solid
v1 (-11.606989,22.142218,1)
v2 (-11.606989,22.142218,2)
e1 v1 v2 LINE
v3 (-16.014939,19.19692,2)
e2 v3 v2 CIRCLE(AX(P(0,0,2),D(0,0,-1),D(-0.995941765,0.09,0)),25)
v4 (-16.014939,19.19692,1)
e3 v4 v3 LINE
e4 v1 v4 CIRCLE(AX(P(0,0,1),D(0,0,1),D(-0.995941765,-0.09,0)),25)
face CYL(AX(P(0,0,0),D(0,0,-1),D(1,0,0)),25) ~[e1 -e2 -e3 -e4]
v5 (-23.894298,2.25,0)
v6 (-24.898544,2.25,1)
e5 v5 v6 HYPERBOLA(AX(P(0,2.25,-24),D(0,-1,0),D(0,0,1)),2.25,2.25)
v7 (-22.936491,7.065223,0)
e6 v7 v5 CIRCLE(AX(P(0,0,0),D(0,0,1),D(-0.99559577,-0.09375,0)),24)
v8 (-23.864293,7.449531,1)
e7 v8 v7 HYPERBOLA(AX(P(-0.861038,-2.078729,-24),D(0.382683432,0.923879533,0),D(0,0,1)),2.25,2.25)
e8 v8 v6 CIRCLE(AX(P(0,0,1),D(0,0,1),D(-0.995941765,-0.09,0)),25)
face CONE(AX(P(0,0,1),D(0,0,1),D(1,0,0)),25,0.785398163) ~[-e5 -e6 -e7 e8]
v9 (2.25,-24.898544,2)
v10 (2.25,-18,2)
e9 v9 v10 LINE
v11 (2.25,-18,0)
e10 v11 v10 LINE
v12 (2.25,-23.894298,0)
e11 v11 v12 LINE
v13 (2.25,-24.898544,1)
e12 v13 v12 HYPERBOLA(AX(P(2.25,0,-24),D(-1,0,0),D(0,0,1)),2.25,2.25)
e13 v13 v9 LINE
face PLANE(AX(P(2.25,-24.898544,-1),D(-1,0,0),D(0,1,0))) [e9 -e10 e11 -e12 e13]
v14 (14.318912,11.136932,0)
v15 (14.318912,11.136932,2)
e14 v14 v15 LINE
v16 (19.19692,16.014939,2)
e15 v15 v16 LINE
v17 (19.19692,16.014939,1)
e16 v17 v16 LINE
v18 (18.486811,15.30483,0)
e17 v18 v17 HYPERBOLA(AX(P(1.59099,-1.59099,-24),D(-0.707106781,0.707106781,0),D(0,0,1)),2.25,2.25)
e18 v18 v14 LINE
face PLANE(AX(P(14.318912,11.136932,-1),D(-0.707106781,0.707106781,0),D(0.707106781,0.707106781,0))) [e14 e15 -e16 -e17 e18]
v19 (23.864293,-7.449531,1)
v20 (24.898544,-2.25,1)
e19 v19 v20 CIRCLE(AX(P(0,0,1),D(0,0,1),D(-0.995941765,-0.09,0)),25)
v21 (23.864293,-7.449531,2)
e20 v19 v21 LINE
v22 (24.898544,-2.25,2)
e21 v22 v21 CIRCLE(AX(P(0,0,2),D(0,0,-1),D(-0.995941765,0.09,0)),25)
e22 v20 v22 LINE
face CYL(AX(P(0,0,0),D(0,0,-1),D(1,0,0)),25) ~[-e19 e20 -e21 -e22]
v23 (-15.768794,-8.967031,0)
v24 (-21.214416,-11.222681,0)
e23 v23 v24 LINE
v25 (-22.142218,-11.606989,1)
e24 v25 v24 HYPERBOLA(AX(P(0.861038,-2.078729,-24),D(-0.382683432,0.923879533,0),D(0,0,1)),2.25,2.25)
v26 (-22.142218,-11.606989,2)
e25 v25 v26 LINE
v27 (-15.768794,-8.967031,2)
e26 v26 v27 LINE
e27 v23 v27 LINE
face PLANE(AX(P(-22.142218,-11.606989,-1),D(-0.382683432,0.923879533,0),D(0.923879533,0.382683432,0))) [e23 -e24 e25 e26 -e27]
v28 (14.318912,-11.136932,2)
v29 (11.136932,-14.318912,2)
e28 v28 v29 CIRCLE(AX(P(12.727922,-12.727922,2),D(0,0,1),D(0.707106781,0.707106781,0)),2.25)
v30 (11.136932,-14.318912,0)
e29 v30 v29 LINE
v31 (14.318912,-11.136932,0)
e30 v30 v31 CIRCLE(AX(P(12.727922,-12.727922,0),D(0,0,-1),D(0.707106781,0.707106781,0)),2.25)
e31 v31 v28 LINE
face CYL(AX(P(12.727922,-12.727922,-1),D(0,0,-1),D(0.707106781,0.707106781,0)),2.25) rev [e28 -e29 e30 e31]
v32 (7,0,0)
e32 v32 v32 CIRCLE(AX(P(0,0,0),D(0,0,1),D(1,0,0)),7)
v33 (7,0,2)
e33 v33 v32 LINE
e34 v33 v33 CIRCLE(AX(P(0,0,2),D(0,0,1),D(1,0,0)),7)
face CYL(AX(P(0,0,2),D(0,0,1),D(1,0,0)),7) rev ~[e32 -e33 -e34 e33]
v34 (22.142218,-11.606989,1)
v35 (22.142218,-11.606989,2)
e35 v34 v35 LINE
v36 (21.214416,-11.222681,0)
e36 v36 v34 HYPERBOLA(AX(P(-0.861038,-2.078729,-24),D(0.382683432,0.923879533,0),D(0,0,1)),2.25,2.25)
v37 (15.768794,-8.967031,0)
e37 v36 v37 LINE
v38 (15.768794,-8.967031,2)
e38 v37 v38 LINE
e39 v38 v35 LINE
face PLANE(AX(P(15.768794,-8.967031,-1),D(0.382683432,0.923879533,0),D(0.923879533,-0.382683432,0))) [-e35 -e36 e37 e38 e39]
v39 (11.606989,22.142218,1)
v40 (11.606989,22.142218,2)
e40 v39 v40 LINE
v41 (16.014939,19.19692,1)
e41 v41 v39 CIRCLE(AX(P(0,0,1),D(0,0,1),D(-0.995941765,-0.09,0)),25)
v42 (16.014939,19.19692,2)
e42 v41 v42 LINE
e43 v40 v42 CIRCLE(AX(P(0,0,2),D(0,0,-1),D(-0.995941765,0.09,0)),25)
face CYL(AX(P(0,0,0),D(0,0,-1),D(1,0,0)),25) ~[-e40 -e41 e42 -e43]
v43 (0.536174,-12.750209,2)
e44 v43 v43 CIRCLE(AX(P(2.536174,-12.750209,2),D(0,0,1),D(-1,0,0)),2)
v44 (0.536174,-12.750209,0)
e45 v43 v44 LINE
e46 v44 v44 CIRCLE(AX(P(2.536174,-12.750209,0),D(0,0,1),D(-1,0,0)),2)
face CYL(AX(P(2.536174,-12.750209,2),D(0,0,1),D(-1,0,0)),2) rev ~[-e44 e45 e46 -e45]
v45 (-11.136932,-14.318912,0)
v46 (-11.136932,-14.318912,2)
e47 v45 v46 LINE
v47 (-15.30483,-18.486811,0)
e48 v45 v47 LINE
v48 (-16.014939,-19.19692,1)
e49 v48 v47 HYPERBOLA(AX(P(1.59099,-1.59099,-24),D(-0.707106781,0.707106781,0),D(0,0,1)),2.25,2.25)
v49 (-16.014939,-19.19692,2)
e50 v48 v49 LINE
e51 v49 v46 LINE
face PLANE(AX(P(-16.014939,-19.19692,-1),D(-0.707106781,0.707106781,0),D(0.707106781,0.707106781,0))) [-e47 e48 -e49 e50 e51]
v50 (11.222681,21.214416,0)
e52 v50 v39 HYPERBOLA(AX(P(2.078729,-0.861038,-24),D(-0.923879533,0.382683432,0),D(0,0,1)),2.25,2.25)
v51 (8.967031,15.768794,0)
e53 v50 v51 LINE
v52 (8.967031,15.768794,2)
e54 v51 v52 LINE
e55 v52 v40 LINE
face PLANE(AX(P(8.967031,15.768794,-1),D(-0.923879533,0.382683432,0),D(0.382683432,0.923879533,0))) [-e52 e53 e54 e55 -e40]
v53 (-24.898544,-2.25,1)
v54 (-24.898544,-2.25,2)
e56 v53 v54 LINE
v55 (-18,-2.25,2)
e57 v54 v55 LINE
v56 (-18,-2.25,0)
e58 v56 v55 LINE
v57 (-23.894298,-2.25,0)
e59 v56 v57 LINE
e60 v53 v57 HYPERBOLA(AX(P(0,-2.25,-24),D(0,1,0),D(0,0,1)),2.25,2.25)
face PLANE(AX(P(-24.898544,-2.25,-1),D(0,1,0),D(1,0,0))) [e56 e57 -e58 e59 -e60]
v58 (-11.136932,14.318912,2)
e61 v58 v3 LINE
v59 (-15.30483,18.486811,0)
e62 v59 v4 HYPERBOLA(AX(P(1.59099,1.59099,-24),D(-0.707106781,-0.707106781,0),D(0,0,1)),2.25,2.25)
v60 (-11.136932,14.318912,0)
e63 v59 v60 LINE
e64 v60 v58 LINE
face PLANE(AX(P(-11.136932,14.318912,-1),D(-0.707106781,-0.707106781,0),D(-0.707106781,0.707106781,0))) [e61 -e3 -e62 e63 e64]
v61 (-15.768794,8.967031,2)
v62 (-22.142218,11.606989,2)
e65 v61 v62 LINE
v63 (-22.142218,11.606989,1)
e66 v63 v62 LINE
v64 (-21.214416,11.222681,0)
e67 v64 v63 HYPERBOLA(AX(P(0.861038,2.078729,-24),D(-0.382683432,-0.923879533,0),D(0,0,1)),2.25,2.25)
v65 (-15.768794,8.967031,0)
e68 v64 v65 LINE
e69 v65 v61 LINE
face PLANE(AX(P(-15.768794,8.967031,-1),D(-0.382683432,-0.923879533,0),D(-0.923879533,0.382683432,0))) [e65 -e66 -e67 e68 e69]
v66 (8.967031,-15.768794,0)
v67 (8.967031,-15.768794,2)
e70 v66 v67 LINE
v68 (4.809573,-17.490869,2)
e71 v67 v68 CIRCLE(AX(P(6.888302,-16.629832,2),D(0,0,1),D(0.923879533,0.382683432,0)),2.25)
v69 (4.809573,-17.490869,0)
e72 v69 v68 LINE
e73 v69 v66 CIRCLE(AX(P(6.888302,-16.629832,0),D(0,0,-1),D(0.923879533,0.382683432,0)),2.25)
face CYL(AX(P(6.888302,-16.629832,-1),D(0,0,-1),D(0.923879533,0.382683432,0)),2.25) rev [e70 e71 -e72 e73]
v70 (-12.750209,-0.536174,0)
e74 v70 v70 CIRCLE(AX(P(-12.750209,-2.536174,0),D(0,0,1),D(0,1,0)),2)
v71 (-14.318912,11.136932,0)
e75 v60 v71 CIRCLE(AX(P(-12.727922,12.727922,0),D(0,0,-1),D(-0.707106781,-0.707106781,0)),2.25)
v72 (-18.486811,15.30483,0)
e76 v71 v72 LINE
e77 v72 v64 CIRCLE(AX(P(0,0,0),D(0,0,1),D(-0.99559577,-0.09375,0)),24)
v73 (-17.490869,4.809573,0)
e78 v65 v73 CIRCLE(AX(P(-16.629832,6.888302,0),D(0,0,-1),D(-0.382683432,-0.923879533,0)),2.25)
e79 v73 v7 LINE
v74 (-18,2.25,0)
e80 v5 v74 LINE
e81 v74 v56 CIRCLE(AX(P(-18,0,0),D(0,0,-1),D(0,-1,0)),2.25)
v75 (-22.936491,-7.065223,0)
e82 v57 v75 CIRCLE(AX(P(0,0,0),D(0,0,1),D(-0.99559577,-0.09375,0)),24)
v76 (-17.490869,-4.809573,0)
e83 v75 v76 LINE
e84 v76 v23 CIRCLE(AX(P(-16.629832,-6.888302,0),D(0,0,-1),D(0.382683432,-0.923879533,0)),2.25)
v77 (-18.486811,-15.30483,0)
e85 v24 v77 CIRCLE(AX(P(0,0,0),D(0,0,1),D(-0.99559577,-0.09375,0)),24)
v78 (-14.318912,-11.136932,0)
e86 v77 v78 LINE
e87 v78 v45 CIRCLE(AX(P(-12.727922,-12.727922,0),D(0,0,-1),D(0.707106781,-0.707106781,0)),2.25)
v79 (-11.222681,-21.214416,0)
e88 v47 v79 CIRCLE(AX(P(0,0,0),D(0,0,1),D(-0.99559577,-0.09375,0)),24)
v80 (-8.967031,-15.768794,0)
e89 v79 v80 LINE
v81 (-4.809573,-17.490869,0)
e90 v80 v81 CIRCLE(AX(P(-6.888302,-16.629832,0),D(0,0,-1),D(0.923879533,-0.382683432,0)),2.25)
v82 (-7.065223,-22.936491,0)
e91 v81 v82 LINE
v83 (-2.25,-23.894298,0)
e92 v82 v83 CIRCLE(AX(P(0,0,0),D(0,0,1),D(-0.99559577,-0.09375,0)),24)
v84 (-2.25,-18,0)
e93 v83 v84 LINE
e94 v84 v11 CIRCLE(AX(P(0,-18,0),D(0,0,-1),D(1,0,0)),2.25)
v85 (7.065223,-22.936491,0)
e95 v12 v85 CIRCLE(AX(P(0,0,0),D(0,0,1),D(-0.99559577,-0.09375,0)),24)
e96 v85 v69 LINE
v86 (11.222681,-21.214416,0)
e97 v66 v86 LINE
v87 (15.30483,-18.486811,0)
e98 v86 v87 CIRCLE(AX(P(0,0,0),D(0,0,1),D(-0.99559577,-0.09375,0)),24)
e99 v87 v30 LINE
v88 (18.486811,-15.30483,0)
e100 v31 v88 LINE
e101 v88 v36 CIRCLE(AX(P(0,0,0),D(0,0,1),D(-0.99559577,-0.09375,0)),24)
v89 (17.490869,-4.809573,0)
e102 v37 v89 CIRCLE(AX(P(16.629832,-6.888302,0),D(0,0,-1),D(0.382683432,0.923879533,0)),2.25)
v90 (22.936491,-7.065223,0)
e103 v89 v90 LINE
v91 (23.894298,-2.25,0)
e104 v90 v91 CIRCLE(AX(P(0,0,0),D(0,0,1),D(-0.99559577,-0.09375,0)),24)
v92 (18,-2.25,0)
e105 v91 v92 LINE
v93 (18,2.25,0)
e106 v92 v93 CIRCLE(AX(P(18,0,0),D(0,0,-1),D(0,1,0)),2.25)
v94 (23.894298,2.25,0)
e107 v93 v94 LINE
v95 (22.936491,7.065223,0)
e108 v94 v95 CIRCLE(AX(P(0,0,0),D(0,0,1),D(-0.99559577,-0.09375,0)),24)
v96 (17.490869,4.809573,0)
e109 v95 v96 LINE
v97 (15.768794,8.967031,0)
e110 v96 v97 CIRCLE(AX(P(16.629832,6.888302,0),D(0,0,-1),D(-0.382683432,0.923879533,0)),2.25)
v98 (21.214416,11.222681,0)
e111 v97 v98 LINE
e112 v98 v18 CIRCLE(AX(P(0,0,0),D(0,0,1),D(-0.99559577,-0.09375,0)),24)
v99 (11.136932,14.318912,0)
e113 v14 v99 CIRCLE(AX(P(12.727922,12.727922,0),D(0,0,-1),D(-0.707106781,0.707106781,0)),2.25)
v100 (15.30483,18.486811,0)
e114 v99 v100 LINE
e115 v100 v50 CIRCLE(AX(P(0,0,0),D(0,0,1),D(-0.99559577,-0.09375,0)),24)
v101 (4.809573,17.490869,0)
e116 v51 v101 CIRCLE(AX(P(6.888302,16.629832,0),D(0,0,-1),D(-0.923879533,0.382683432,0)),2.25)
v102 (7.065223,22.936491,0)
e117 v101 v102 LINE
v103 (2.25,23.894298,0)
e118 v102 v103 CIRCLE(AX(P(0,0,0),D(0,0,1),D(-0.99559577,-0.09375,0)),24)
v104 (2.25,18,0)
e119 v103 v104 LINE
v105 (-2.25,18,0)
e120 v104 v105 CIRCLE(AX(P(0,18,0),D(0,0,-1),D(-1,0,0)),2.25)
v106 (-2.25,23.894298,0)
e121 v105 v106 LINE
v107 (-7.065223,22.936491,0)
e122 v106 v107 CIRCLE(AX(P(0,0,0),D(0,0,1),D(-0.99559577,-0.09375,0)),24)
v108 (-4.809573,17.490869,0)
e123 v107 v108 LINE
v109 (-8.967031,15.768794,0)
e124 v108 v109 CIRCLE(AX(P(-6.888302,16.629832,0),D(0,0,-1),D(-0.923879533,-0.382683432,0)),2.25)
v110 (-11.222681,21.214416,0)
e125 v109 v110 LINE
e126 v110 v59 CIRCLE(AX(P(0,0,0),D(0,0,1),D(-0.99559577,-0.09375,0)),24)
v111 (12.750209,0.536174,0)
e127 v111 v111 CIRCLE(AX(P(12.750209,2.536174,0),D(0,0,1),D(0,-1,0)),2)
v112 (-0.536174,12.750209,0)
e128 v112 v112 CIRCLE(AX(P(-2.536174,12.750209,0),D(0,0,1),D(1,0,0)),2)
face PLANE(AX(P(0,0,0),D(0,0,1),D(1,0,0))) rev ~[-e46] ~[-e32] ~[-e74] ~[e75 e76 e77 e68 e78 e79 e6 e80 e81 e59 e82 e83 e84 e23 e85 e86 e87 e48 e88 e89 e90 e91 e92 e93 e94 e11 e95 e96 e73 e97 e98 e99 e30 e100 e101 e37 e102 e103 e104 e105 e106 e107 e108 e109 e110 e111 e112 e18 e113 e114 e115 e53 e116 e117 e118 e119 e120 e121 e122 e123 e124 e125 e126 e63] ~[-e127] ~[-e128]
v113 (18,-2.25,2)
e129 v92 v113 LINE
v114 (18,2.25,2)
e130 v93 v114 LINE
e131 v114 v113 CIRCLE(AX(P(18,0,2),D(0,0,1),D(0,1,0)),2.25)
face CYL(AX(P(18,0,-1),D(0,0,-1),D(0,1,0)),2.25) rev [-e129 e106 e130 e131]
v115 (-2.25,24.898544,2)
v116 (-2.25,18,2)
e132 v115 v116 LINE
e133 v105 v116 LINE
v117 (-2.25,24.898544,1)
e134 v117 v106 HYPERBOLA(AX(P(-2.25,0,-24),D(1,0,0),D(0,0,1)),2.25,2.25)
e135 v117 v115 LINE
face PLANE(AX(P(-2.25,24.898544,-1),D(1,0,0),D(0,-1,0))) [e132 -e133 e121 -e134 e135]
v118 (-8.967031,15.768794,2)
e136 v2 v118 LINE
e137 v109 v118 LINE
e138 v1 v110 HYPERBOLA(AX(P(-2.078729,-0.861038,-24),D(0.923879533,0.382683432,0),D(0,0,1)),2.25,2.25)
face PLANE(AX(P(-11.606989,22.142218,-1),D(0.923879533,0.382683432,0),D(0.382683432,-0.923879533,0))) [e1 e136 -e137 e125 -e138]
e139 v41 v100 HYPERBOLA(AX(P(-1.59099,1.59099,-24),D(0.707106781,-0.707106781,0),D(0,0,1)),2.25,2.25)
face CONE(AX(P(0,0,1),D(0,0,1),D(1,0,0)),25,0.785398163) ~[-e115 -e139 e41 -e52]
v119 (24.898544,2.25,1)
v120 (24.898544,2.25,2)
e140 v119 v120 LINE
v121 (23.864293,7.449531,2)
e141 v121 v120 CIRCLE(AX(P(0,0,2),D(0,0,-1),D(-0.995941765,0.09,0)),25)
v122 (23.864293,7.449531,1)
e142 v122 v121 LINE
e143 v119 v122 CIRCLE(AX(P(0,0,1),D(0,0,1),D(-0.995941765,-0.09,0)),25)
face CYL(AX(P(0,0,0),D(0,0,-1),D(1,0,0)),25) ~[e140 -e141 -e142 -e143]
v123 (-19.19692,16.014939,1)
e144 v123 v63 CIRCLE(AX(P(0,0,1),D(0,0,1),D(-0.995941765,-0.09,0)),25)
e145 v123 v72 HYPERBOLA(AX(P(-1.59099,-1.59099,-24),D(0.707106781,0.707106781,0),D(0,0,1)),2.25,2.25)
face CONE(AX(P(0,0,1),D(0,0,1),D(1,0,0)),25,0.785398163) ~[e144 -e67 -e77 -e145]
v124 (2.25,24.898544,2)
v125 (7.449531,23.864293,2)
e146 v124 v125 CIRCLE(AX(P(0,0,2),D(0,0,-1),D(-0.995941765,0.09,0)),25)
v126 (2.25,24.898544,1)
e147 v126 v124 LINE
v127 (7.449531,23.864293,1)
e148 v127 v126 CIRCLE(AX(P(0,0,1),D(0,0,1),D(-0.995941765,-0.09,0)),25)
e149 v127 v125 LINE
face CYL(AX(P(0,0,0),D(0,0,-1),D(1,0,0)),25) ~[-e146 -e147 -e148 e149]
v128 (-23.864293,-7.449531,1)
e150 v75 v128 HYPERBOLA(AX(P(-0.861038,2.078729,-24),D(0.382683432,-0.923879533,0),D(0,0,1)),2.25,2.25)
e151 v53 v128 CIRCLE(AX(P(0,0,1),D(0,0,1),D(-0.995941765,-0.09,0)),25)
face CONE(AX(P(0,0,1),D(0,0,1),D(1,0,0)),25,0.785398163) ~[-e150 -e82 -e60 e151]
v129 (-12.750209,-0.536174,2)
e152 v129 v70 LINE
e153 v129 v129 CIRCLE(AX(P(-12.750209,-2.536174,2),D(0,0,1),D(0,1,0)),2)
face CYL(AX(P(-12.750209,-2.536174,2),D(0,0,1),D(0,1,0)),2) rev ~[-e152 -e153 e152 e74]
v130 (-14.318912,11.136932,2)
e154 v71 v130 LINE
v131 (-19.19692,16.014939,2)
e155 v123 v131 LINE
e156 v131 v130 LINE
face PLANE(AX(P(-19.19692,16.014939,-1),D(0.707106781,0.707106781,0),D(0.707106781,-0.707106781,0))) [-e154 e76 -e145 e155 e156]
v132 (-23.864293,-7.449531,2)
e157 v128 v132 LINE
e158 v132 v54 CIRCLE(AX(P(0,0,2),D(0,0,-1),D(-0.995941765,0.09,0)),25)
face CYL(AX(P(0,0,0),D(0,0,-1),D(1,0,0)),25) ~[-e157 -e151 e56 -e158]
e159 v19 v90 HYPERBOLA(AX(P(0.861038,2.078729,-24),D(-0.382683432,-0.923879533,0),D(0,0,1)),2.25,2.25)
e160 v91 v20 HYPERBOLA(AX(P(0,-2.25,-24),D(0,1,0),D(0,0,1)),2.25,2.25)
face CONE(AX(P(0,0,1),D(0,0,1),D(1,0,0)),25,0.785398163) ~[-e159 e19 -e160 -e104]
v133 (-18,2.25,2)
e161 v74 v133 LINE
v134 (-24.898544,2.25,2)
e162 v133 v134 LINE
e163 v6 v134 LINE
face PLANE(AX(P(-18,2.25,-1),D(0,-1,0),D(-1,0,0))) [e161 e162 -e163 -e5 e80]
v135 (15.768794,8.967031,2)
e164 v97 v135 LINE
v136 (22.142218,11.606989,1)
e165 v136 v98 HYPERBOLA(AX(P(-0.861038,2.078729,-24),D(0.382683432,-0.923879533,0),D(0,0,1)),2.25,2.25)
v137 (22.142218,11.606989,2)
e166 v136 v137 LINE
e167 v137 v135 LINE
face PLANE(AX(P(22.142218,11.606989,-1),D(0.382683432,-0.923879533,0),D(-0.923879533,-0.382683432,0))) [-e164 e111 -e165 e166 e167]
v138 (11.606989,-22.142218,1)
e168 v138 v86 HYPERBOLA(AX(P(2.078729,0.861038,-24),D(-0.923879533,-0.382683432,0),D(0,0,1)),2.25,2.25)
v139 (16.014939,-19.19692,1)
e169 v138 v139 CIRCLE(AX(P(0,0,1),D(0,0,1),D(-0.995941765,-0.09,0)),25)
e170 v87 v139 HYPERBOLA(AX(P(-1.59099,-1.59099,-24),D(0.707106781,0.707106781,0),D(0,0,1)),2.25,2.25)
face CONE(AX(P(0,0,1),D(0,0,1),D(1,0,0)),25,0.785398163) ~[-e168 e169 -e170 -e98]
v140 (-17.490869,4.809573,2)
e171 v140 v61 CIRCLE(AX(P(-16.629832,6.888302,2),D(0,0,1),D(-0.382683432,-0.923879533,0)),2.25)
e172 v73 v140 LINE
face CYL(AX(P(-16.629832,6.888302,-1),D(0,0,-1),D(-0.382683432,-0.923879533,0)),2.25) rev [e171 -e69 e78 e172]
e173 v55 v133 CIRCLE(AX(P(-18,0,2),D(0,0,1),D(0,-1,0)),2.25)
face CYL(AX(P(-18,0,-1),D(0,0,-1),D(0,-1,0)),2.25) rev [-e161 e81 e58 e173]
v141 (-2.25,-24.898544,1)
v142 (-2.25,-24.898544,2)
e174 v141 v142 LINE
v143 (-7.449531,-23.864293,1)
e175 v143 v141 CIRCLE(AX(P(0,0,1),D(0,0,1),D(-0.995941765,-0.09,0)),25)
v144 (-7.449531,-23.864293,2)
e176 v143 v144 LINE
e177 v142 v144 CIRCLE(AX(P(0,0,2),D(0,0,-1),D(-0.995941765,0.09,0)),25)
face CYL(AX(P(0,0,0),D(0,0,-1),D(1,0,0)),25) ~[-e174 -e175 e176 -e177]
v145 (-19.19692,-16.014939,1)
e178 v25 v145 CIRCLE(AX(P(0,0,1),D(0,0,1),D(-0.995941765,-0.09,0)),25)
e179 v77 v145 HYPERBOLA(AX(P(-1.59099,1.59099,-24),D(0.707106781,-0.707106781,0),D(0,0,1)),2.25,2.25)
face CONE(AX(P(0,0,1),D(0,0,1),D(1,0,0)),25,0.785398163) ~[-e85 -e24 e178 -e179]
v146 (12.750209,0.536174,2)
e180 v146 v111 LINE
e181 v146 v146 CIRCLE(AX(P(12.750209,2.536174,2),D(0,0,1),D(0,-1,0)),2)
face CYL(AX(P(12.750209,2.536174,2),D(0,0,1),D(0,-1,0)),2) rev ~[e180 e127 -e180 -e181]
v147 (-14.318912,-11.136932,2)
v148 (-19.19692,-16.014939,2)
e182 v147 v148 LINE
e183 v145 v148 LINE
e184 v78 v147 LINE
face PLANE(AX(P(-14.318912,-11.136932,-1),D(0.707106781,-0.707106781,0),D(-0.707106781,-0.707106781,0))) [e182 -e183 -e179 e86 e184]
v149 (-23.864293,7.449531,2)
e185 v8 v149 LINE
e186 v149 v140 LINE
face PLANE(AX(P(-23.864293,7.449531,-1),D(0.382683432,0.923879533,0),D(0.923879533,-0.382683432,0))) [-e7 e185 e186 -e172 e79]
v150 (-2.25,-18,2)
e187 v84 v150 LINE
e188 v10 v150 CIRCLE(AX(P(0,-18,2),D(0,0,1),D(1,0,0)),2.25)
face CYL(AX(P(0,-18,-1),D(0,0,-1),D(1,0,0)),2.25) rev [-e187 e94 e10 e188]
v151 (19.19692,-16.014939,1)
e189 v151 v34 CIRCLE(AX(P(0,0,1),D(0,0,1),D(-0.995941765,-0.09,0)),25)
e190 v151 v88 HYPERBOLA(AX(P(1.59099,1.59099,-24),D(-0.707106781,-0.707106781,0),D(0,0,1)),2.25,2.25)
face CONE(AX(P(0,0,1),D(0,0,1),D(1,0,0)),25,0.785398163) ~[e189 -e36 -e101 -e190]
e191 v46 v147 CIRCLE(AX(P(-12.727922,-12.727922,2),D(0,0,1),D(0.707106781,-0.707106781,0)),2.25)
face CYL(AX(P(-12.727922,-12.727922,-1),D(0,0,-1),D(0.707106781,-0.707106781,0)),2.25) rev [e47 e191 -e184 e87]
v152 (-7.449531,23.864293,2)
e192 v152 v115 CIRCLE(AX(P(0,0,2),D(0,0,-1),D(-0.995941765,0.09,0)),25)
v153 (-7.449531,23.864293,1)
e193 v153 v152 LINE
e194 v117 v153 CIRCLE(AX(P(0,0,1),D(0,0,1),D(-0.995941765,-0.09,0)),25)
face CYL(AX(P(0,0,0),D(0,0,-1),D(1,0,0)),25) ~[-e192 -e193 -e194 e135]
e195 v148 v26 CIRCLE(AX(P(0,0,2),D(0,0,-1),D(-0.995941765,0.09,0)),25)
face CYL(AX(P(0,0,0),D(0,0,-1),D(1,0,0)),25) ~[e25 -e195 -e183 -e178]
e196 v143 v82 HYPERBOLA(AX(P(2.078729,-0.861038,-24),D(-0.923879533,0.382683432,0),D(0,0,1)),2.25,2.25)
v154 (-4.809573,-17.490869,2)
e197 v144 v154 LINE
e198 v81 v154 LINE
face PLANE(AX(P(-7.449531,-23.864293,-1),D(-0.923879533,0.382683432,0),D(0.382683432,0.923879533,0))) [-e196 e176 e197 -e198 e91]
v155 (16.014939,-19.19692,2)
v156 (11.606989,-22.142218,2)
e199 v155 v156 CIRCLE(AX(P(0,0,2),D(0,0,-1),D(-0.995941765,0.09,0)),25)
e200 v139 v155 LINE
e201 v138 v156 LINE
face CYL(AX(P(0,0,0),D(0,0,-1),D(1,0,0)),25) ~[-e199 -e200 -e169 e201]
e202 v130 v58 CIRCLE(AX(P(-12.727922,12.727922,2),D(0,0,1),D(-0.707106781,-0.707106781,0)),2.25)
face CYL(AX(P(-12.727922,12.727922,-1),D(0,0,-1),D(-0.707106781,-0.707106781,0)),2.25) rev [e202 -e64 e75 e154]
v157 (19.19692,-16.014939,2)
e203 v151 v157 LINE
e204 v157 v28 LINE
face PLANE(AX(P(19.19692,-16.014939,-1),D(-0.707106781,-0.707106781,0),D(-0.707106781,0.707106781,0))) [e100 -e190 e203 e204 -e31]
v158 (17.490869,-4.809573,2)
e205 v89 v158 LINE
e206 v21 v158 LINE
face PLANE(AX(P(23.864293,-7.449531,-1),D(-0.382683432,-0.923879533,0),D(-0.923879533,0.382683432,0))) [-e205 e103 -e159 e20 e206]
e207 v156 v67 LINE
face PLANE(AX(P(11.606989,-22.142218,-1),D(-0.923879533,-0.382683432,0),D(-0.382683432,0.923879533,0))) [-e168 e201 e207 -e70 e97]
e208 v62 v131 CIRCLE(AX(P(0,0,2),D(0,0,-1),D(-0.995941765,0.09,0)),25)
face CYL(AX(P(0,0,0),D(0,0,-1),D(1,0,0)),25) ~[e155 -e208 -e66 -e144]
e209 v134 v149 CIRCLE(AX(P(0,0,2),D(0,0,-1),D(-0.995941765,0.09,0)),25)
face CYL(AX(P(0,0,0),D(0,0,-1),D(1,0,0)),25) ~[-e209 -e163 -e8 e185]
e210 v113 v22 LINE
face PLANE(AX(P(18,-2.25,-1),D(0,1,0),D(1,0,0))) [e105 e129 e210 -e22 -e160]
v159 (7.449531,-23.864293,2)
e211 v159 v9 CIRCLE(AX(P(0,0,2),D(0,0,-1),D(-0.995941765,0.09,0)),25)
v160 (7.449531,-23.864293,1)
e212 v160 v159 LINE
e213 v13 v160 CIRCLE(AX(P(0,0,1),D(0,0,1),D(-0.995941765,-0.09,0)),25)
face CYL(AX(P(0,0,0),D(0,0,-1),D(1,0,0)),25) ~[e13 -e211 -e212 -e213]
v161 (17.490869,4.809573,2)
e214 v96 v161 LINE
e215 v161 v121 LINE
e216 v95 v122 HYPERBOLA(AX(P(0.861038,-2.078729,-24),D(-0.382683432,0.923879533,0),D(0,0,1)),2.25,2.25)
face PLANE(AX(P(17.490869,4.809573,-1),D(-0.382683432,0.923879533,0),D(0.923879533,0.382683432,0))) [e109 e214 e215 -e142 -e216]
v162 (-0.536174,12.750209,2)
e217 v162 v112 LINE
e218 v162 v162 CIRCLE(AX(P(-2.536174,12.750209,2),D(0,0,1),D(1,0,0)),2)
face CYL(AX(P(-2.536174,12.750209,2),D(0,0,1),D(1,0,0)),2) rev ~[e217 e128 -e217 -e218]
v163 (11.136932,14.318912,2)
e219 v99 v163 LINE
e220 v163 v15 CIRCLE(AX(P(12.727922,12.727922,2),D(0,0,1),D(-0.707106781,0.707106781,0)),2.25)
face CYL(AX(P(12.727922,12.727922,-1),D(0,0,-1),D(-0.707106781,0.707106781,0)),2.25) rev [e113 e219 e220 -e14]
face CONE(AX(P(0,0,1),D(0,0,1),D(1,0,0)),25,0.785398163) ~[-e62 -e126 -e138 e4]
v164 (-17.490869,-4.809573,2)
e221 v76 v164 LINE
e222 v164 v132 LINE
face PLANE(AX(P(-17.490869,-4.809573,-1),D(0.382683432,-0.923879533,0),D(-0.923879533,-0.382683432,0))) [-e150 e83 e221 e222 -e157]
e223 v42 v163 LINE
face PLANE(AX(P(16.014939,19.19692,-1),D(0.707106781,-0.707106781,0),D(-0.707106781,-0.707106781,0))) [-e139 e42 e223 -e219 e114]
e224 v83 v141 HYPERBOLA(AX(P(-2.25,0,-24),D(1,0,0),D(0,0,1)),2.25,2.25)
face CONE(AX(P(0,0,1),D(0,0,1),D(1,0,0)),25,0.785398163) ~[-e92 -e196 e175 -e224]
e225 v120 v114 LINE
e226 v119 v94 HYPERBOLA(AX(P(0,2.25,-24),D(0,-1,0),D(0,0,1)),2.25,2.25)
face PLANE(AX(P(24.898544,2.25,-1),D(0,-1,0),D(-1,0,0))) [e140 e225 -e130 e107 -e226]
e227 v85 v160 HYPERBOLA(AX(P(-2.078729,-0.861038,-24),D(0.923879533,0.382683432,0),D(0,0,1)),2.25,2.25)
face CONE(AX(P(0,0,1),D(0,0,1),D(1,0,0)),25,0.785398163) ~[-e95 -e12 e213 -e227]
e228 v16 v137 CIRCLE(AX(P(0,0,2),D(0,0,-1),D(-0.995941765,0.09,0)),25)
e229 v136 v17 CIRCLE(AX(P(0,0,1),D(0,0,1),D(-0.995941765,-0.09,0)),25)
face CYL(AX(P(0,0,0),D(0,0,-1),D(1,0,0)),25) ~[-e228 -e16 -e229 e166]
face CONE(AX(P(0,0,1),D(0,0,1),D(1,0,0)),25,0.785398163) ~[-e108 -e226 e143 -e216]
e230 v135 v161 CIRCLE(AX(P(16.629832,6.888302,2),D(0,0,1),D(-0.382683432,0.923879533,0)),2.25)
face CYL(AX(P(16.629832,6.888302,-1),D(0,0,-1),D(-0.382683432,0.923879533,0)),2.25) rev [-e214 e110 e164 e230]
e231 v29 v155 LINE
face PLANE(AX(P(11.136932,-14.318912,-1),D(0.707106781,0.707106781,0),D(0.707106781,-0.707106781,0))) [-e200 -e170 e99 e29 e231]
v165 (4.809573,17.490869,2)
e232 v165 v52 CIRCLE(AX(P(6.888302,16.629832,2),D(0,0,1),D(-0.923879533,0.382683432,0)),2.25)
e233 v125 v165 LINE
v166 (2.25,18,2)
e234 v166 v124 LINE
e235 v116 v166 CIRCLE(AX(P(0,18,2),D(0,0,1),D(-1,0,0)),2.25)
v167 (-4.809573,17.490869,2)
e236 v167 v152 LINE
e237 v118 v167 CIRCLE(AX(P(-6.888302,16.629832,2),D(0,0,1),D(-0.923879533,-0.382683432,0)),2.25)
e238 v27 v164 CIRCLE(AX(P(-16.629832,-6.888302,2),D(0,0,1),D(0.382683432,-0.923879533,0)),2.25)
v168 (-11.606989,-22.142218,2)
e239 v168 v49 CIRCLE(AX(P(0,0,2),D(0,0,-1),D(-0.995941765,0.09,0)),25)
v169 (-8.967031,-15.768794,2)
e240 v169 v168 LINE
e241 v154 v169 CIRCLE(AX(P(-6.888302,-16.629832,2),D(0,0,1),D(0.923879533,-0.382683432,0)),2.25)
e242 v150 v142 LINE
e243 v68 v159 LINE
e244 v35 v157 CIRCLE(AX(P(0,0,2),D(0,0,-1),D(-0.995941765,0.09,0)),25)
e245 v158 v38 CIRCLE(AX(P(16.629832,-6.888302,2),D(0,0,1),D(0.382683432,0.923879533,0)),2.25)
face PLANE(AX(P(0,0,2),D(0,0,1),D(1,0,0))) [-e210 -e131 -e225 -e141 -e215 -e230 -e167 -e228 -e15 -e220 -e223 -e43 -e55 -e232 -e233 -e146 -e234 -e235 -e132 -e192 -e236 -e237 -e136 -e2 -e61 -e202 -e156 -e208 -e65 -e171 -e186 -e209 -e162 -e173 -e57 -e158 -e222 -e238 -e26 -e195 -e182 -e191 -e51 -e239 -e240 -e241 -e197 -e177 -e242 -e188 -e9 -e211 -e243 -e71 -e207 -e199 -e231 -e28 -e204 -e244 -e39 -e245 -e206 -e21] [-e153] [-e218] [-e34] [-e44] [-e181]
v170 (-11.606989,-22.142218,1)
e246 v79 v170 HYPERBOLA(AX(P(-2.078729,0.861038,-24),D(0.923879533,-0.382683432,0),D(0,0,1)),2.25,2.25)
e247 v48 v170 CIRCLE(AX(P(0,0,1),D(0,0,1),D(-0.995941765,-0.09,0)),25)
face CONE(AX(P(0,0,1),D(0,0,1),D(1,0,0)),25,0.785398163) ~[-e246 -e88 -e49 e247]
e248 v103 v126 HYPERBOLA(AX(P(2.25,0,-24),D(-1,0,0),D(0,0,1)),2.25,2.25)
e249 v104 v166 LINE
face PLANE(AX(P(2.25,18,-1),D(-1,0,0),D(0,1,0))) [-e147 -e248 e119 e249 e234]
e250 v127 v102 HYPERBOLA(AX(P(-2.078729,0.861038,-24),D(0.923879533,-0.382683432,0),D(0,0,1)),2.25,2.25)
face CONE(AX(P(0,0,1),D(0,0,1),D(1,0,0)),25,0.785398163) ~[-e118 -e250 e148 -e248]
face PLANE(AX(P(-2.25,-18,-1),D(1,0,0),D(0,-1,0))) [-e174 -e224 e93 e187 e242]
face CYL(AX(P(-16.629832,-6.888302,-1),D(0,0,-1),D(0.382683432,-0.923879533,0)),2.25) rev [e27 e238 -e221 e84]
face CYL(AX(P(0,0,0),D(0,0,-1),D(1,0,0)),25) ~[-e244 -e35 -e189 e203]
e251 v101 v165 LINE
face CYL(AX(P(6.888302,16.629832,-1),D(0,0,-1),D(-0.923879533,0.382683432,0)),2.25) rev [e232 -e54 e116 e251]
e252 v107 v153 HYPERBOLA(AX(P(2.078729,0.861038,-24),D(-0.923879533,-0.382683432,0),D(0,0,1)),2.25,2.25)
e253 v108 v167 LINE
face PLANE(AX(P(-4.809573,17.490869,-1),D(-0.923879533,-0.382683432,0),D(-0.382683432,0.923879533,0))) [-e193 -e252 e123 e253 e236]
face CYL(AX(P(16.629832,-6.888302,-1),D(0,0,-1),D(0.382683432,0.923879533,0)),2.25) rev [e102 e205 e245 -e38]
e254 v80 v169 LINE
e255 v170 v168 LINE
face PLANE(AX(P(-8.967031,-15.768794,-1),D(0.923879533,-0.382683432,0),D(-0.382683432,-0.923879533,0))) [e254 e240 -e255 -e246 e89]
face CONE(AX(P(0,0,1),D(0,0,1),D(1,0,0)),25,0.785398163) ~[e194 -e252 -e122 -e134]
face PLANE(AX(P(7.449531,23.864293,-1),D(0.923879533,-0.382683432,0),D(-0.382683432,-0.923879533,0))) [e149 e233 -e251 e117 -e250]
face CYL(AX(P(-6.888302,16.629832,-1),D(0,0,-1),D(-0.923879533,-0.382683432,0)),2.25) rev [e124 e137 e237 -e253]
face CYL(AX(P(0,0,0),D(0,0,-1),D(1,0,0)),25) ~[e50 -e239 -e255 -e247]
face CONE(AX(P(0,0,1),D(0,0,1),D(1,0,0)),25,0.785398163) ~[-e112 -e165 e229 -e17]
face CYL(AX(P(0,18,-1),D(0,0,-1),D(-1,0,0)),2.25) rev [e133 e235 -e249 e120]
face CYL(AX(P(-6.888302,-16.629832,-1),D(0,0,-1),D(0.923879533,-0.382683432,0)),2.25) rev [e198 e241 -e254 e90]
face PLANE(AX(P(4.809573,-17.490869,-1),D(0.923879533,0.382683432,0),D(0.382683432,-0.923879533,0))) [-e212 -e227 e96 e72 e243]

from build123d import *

# Parameters (mm, degrees)
SKETCH_1_R               = 25
EXTRUDE_1_DEPTH          = 2
SKETCH_2_R               = 7
CUT_EXTRUDE_2_DEPTH      = 3
SKETCH_3_R               = 2
CUT_EXTRUDE_3_DEPTH      = 3
PATTERN_CIRCULAR_1_COUNT = 4
CHAMFER_1_SIZE           = 1
CUT_EXTRUDE_START        = -3
CUT_EXTRUDE_4_DEPTH      = 3
PATTERN_CIRCULAR_3_COUNT = 16


with BuildPart() as part:
    # 草图1 → 拉伸1 (new body)
    with BuildSketch(Plane.XY):
        Circle(SKETCH_1_R)
    extrude(amount=EXTRUDE_1_DEPTH)

    # 草图2 → 拉伸2 (cut)
    with BuildSketch(Plane.XY.offset(2)):
        Circle(SKETCH_2_R)
    extrude(amount=-CUT_EXTRUDE_2_DEPTH, mode=Mode.SUBTRACT)

    # 草图3 → 拉伸3 (cut)
    with BuildSketch(Plane.XY.offset(2)):
        with Locations((-2.536174186, 12.750208645)):
            Circle(SKETCH_3_R)
    cut_extrude_3 = extrude(amount=-CUT_EXTRUDE_3_DEPTH, mode=Mode.SUBTRACT)

    # 阵列(圆周)1: 拉伸3 ×4 about axis
    pattern_circular_1_axis = Axis((0, 0, 0), (0, 0, 1))
    for i in range(1, PATTERN_CIRCULAR_1_COUNT):
        add(cut_extrude_3.rotate(pattern_circular_1_axis, i * 360 / PATTERN_CIRCULAR_1_COUNT), mode=Mode.SUBTRACT)

    # 倒角1
    chamfer_1_edges = [part.edges().sort_by_distance(p)[0] for p in [
        (-25, 0, 0),
    ]]
    chamfer(chamfer_1_edges, length=CHAMFER_1_SIZE)

    # 草图4 → 拉伸4 (cut)
    with BuildSketch(Plane.XY.offset(2).offset(CUT_EXTRUDE_START)):
        with BuildLine():
            Line((-18, 2.25), (-24.898544134, 2.25))
            ThreePointArc((-24.898544134, 2.25), (-25, 0), (-24.898544134, -2.25))
            Line((-24.898544134, -2.25), (-18, -2.25))
            ThreePointArc((-18, -2.25), (-15.75, 0), (-18, 2.25))
        make_face()
    cut_extrude_4 = extrude(amount=CUT_EXTRUDE_4_DEPTH, mode=Mode.SUBTRACT)

    # 阵列(圆周)3: 拉伸4 ×16 about axis
    pattern_circular_3_axis = Axis((0, 0, 0), (0, 0, 1))
    for i in range(1, PATTERN_CIRCULAR_3_COUNT):
        add(cut_extrude_4.rotate(pattern_circular_3_axis, i * 360 / PATTERN_CIRCULAR_3_COUNT), mode=Mode.SUBTRACT)


solid = part.part
